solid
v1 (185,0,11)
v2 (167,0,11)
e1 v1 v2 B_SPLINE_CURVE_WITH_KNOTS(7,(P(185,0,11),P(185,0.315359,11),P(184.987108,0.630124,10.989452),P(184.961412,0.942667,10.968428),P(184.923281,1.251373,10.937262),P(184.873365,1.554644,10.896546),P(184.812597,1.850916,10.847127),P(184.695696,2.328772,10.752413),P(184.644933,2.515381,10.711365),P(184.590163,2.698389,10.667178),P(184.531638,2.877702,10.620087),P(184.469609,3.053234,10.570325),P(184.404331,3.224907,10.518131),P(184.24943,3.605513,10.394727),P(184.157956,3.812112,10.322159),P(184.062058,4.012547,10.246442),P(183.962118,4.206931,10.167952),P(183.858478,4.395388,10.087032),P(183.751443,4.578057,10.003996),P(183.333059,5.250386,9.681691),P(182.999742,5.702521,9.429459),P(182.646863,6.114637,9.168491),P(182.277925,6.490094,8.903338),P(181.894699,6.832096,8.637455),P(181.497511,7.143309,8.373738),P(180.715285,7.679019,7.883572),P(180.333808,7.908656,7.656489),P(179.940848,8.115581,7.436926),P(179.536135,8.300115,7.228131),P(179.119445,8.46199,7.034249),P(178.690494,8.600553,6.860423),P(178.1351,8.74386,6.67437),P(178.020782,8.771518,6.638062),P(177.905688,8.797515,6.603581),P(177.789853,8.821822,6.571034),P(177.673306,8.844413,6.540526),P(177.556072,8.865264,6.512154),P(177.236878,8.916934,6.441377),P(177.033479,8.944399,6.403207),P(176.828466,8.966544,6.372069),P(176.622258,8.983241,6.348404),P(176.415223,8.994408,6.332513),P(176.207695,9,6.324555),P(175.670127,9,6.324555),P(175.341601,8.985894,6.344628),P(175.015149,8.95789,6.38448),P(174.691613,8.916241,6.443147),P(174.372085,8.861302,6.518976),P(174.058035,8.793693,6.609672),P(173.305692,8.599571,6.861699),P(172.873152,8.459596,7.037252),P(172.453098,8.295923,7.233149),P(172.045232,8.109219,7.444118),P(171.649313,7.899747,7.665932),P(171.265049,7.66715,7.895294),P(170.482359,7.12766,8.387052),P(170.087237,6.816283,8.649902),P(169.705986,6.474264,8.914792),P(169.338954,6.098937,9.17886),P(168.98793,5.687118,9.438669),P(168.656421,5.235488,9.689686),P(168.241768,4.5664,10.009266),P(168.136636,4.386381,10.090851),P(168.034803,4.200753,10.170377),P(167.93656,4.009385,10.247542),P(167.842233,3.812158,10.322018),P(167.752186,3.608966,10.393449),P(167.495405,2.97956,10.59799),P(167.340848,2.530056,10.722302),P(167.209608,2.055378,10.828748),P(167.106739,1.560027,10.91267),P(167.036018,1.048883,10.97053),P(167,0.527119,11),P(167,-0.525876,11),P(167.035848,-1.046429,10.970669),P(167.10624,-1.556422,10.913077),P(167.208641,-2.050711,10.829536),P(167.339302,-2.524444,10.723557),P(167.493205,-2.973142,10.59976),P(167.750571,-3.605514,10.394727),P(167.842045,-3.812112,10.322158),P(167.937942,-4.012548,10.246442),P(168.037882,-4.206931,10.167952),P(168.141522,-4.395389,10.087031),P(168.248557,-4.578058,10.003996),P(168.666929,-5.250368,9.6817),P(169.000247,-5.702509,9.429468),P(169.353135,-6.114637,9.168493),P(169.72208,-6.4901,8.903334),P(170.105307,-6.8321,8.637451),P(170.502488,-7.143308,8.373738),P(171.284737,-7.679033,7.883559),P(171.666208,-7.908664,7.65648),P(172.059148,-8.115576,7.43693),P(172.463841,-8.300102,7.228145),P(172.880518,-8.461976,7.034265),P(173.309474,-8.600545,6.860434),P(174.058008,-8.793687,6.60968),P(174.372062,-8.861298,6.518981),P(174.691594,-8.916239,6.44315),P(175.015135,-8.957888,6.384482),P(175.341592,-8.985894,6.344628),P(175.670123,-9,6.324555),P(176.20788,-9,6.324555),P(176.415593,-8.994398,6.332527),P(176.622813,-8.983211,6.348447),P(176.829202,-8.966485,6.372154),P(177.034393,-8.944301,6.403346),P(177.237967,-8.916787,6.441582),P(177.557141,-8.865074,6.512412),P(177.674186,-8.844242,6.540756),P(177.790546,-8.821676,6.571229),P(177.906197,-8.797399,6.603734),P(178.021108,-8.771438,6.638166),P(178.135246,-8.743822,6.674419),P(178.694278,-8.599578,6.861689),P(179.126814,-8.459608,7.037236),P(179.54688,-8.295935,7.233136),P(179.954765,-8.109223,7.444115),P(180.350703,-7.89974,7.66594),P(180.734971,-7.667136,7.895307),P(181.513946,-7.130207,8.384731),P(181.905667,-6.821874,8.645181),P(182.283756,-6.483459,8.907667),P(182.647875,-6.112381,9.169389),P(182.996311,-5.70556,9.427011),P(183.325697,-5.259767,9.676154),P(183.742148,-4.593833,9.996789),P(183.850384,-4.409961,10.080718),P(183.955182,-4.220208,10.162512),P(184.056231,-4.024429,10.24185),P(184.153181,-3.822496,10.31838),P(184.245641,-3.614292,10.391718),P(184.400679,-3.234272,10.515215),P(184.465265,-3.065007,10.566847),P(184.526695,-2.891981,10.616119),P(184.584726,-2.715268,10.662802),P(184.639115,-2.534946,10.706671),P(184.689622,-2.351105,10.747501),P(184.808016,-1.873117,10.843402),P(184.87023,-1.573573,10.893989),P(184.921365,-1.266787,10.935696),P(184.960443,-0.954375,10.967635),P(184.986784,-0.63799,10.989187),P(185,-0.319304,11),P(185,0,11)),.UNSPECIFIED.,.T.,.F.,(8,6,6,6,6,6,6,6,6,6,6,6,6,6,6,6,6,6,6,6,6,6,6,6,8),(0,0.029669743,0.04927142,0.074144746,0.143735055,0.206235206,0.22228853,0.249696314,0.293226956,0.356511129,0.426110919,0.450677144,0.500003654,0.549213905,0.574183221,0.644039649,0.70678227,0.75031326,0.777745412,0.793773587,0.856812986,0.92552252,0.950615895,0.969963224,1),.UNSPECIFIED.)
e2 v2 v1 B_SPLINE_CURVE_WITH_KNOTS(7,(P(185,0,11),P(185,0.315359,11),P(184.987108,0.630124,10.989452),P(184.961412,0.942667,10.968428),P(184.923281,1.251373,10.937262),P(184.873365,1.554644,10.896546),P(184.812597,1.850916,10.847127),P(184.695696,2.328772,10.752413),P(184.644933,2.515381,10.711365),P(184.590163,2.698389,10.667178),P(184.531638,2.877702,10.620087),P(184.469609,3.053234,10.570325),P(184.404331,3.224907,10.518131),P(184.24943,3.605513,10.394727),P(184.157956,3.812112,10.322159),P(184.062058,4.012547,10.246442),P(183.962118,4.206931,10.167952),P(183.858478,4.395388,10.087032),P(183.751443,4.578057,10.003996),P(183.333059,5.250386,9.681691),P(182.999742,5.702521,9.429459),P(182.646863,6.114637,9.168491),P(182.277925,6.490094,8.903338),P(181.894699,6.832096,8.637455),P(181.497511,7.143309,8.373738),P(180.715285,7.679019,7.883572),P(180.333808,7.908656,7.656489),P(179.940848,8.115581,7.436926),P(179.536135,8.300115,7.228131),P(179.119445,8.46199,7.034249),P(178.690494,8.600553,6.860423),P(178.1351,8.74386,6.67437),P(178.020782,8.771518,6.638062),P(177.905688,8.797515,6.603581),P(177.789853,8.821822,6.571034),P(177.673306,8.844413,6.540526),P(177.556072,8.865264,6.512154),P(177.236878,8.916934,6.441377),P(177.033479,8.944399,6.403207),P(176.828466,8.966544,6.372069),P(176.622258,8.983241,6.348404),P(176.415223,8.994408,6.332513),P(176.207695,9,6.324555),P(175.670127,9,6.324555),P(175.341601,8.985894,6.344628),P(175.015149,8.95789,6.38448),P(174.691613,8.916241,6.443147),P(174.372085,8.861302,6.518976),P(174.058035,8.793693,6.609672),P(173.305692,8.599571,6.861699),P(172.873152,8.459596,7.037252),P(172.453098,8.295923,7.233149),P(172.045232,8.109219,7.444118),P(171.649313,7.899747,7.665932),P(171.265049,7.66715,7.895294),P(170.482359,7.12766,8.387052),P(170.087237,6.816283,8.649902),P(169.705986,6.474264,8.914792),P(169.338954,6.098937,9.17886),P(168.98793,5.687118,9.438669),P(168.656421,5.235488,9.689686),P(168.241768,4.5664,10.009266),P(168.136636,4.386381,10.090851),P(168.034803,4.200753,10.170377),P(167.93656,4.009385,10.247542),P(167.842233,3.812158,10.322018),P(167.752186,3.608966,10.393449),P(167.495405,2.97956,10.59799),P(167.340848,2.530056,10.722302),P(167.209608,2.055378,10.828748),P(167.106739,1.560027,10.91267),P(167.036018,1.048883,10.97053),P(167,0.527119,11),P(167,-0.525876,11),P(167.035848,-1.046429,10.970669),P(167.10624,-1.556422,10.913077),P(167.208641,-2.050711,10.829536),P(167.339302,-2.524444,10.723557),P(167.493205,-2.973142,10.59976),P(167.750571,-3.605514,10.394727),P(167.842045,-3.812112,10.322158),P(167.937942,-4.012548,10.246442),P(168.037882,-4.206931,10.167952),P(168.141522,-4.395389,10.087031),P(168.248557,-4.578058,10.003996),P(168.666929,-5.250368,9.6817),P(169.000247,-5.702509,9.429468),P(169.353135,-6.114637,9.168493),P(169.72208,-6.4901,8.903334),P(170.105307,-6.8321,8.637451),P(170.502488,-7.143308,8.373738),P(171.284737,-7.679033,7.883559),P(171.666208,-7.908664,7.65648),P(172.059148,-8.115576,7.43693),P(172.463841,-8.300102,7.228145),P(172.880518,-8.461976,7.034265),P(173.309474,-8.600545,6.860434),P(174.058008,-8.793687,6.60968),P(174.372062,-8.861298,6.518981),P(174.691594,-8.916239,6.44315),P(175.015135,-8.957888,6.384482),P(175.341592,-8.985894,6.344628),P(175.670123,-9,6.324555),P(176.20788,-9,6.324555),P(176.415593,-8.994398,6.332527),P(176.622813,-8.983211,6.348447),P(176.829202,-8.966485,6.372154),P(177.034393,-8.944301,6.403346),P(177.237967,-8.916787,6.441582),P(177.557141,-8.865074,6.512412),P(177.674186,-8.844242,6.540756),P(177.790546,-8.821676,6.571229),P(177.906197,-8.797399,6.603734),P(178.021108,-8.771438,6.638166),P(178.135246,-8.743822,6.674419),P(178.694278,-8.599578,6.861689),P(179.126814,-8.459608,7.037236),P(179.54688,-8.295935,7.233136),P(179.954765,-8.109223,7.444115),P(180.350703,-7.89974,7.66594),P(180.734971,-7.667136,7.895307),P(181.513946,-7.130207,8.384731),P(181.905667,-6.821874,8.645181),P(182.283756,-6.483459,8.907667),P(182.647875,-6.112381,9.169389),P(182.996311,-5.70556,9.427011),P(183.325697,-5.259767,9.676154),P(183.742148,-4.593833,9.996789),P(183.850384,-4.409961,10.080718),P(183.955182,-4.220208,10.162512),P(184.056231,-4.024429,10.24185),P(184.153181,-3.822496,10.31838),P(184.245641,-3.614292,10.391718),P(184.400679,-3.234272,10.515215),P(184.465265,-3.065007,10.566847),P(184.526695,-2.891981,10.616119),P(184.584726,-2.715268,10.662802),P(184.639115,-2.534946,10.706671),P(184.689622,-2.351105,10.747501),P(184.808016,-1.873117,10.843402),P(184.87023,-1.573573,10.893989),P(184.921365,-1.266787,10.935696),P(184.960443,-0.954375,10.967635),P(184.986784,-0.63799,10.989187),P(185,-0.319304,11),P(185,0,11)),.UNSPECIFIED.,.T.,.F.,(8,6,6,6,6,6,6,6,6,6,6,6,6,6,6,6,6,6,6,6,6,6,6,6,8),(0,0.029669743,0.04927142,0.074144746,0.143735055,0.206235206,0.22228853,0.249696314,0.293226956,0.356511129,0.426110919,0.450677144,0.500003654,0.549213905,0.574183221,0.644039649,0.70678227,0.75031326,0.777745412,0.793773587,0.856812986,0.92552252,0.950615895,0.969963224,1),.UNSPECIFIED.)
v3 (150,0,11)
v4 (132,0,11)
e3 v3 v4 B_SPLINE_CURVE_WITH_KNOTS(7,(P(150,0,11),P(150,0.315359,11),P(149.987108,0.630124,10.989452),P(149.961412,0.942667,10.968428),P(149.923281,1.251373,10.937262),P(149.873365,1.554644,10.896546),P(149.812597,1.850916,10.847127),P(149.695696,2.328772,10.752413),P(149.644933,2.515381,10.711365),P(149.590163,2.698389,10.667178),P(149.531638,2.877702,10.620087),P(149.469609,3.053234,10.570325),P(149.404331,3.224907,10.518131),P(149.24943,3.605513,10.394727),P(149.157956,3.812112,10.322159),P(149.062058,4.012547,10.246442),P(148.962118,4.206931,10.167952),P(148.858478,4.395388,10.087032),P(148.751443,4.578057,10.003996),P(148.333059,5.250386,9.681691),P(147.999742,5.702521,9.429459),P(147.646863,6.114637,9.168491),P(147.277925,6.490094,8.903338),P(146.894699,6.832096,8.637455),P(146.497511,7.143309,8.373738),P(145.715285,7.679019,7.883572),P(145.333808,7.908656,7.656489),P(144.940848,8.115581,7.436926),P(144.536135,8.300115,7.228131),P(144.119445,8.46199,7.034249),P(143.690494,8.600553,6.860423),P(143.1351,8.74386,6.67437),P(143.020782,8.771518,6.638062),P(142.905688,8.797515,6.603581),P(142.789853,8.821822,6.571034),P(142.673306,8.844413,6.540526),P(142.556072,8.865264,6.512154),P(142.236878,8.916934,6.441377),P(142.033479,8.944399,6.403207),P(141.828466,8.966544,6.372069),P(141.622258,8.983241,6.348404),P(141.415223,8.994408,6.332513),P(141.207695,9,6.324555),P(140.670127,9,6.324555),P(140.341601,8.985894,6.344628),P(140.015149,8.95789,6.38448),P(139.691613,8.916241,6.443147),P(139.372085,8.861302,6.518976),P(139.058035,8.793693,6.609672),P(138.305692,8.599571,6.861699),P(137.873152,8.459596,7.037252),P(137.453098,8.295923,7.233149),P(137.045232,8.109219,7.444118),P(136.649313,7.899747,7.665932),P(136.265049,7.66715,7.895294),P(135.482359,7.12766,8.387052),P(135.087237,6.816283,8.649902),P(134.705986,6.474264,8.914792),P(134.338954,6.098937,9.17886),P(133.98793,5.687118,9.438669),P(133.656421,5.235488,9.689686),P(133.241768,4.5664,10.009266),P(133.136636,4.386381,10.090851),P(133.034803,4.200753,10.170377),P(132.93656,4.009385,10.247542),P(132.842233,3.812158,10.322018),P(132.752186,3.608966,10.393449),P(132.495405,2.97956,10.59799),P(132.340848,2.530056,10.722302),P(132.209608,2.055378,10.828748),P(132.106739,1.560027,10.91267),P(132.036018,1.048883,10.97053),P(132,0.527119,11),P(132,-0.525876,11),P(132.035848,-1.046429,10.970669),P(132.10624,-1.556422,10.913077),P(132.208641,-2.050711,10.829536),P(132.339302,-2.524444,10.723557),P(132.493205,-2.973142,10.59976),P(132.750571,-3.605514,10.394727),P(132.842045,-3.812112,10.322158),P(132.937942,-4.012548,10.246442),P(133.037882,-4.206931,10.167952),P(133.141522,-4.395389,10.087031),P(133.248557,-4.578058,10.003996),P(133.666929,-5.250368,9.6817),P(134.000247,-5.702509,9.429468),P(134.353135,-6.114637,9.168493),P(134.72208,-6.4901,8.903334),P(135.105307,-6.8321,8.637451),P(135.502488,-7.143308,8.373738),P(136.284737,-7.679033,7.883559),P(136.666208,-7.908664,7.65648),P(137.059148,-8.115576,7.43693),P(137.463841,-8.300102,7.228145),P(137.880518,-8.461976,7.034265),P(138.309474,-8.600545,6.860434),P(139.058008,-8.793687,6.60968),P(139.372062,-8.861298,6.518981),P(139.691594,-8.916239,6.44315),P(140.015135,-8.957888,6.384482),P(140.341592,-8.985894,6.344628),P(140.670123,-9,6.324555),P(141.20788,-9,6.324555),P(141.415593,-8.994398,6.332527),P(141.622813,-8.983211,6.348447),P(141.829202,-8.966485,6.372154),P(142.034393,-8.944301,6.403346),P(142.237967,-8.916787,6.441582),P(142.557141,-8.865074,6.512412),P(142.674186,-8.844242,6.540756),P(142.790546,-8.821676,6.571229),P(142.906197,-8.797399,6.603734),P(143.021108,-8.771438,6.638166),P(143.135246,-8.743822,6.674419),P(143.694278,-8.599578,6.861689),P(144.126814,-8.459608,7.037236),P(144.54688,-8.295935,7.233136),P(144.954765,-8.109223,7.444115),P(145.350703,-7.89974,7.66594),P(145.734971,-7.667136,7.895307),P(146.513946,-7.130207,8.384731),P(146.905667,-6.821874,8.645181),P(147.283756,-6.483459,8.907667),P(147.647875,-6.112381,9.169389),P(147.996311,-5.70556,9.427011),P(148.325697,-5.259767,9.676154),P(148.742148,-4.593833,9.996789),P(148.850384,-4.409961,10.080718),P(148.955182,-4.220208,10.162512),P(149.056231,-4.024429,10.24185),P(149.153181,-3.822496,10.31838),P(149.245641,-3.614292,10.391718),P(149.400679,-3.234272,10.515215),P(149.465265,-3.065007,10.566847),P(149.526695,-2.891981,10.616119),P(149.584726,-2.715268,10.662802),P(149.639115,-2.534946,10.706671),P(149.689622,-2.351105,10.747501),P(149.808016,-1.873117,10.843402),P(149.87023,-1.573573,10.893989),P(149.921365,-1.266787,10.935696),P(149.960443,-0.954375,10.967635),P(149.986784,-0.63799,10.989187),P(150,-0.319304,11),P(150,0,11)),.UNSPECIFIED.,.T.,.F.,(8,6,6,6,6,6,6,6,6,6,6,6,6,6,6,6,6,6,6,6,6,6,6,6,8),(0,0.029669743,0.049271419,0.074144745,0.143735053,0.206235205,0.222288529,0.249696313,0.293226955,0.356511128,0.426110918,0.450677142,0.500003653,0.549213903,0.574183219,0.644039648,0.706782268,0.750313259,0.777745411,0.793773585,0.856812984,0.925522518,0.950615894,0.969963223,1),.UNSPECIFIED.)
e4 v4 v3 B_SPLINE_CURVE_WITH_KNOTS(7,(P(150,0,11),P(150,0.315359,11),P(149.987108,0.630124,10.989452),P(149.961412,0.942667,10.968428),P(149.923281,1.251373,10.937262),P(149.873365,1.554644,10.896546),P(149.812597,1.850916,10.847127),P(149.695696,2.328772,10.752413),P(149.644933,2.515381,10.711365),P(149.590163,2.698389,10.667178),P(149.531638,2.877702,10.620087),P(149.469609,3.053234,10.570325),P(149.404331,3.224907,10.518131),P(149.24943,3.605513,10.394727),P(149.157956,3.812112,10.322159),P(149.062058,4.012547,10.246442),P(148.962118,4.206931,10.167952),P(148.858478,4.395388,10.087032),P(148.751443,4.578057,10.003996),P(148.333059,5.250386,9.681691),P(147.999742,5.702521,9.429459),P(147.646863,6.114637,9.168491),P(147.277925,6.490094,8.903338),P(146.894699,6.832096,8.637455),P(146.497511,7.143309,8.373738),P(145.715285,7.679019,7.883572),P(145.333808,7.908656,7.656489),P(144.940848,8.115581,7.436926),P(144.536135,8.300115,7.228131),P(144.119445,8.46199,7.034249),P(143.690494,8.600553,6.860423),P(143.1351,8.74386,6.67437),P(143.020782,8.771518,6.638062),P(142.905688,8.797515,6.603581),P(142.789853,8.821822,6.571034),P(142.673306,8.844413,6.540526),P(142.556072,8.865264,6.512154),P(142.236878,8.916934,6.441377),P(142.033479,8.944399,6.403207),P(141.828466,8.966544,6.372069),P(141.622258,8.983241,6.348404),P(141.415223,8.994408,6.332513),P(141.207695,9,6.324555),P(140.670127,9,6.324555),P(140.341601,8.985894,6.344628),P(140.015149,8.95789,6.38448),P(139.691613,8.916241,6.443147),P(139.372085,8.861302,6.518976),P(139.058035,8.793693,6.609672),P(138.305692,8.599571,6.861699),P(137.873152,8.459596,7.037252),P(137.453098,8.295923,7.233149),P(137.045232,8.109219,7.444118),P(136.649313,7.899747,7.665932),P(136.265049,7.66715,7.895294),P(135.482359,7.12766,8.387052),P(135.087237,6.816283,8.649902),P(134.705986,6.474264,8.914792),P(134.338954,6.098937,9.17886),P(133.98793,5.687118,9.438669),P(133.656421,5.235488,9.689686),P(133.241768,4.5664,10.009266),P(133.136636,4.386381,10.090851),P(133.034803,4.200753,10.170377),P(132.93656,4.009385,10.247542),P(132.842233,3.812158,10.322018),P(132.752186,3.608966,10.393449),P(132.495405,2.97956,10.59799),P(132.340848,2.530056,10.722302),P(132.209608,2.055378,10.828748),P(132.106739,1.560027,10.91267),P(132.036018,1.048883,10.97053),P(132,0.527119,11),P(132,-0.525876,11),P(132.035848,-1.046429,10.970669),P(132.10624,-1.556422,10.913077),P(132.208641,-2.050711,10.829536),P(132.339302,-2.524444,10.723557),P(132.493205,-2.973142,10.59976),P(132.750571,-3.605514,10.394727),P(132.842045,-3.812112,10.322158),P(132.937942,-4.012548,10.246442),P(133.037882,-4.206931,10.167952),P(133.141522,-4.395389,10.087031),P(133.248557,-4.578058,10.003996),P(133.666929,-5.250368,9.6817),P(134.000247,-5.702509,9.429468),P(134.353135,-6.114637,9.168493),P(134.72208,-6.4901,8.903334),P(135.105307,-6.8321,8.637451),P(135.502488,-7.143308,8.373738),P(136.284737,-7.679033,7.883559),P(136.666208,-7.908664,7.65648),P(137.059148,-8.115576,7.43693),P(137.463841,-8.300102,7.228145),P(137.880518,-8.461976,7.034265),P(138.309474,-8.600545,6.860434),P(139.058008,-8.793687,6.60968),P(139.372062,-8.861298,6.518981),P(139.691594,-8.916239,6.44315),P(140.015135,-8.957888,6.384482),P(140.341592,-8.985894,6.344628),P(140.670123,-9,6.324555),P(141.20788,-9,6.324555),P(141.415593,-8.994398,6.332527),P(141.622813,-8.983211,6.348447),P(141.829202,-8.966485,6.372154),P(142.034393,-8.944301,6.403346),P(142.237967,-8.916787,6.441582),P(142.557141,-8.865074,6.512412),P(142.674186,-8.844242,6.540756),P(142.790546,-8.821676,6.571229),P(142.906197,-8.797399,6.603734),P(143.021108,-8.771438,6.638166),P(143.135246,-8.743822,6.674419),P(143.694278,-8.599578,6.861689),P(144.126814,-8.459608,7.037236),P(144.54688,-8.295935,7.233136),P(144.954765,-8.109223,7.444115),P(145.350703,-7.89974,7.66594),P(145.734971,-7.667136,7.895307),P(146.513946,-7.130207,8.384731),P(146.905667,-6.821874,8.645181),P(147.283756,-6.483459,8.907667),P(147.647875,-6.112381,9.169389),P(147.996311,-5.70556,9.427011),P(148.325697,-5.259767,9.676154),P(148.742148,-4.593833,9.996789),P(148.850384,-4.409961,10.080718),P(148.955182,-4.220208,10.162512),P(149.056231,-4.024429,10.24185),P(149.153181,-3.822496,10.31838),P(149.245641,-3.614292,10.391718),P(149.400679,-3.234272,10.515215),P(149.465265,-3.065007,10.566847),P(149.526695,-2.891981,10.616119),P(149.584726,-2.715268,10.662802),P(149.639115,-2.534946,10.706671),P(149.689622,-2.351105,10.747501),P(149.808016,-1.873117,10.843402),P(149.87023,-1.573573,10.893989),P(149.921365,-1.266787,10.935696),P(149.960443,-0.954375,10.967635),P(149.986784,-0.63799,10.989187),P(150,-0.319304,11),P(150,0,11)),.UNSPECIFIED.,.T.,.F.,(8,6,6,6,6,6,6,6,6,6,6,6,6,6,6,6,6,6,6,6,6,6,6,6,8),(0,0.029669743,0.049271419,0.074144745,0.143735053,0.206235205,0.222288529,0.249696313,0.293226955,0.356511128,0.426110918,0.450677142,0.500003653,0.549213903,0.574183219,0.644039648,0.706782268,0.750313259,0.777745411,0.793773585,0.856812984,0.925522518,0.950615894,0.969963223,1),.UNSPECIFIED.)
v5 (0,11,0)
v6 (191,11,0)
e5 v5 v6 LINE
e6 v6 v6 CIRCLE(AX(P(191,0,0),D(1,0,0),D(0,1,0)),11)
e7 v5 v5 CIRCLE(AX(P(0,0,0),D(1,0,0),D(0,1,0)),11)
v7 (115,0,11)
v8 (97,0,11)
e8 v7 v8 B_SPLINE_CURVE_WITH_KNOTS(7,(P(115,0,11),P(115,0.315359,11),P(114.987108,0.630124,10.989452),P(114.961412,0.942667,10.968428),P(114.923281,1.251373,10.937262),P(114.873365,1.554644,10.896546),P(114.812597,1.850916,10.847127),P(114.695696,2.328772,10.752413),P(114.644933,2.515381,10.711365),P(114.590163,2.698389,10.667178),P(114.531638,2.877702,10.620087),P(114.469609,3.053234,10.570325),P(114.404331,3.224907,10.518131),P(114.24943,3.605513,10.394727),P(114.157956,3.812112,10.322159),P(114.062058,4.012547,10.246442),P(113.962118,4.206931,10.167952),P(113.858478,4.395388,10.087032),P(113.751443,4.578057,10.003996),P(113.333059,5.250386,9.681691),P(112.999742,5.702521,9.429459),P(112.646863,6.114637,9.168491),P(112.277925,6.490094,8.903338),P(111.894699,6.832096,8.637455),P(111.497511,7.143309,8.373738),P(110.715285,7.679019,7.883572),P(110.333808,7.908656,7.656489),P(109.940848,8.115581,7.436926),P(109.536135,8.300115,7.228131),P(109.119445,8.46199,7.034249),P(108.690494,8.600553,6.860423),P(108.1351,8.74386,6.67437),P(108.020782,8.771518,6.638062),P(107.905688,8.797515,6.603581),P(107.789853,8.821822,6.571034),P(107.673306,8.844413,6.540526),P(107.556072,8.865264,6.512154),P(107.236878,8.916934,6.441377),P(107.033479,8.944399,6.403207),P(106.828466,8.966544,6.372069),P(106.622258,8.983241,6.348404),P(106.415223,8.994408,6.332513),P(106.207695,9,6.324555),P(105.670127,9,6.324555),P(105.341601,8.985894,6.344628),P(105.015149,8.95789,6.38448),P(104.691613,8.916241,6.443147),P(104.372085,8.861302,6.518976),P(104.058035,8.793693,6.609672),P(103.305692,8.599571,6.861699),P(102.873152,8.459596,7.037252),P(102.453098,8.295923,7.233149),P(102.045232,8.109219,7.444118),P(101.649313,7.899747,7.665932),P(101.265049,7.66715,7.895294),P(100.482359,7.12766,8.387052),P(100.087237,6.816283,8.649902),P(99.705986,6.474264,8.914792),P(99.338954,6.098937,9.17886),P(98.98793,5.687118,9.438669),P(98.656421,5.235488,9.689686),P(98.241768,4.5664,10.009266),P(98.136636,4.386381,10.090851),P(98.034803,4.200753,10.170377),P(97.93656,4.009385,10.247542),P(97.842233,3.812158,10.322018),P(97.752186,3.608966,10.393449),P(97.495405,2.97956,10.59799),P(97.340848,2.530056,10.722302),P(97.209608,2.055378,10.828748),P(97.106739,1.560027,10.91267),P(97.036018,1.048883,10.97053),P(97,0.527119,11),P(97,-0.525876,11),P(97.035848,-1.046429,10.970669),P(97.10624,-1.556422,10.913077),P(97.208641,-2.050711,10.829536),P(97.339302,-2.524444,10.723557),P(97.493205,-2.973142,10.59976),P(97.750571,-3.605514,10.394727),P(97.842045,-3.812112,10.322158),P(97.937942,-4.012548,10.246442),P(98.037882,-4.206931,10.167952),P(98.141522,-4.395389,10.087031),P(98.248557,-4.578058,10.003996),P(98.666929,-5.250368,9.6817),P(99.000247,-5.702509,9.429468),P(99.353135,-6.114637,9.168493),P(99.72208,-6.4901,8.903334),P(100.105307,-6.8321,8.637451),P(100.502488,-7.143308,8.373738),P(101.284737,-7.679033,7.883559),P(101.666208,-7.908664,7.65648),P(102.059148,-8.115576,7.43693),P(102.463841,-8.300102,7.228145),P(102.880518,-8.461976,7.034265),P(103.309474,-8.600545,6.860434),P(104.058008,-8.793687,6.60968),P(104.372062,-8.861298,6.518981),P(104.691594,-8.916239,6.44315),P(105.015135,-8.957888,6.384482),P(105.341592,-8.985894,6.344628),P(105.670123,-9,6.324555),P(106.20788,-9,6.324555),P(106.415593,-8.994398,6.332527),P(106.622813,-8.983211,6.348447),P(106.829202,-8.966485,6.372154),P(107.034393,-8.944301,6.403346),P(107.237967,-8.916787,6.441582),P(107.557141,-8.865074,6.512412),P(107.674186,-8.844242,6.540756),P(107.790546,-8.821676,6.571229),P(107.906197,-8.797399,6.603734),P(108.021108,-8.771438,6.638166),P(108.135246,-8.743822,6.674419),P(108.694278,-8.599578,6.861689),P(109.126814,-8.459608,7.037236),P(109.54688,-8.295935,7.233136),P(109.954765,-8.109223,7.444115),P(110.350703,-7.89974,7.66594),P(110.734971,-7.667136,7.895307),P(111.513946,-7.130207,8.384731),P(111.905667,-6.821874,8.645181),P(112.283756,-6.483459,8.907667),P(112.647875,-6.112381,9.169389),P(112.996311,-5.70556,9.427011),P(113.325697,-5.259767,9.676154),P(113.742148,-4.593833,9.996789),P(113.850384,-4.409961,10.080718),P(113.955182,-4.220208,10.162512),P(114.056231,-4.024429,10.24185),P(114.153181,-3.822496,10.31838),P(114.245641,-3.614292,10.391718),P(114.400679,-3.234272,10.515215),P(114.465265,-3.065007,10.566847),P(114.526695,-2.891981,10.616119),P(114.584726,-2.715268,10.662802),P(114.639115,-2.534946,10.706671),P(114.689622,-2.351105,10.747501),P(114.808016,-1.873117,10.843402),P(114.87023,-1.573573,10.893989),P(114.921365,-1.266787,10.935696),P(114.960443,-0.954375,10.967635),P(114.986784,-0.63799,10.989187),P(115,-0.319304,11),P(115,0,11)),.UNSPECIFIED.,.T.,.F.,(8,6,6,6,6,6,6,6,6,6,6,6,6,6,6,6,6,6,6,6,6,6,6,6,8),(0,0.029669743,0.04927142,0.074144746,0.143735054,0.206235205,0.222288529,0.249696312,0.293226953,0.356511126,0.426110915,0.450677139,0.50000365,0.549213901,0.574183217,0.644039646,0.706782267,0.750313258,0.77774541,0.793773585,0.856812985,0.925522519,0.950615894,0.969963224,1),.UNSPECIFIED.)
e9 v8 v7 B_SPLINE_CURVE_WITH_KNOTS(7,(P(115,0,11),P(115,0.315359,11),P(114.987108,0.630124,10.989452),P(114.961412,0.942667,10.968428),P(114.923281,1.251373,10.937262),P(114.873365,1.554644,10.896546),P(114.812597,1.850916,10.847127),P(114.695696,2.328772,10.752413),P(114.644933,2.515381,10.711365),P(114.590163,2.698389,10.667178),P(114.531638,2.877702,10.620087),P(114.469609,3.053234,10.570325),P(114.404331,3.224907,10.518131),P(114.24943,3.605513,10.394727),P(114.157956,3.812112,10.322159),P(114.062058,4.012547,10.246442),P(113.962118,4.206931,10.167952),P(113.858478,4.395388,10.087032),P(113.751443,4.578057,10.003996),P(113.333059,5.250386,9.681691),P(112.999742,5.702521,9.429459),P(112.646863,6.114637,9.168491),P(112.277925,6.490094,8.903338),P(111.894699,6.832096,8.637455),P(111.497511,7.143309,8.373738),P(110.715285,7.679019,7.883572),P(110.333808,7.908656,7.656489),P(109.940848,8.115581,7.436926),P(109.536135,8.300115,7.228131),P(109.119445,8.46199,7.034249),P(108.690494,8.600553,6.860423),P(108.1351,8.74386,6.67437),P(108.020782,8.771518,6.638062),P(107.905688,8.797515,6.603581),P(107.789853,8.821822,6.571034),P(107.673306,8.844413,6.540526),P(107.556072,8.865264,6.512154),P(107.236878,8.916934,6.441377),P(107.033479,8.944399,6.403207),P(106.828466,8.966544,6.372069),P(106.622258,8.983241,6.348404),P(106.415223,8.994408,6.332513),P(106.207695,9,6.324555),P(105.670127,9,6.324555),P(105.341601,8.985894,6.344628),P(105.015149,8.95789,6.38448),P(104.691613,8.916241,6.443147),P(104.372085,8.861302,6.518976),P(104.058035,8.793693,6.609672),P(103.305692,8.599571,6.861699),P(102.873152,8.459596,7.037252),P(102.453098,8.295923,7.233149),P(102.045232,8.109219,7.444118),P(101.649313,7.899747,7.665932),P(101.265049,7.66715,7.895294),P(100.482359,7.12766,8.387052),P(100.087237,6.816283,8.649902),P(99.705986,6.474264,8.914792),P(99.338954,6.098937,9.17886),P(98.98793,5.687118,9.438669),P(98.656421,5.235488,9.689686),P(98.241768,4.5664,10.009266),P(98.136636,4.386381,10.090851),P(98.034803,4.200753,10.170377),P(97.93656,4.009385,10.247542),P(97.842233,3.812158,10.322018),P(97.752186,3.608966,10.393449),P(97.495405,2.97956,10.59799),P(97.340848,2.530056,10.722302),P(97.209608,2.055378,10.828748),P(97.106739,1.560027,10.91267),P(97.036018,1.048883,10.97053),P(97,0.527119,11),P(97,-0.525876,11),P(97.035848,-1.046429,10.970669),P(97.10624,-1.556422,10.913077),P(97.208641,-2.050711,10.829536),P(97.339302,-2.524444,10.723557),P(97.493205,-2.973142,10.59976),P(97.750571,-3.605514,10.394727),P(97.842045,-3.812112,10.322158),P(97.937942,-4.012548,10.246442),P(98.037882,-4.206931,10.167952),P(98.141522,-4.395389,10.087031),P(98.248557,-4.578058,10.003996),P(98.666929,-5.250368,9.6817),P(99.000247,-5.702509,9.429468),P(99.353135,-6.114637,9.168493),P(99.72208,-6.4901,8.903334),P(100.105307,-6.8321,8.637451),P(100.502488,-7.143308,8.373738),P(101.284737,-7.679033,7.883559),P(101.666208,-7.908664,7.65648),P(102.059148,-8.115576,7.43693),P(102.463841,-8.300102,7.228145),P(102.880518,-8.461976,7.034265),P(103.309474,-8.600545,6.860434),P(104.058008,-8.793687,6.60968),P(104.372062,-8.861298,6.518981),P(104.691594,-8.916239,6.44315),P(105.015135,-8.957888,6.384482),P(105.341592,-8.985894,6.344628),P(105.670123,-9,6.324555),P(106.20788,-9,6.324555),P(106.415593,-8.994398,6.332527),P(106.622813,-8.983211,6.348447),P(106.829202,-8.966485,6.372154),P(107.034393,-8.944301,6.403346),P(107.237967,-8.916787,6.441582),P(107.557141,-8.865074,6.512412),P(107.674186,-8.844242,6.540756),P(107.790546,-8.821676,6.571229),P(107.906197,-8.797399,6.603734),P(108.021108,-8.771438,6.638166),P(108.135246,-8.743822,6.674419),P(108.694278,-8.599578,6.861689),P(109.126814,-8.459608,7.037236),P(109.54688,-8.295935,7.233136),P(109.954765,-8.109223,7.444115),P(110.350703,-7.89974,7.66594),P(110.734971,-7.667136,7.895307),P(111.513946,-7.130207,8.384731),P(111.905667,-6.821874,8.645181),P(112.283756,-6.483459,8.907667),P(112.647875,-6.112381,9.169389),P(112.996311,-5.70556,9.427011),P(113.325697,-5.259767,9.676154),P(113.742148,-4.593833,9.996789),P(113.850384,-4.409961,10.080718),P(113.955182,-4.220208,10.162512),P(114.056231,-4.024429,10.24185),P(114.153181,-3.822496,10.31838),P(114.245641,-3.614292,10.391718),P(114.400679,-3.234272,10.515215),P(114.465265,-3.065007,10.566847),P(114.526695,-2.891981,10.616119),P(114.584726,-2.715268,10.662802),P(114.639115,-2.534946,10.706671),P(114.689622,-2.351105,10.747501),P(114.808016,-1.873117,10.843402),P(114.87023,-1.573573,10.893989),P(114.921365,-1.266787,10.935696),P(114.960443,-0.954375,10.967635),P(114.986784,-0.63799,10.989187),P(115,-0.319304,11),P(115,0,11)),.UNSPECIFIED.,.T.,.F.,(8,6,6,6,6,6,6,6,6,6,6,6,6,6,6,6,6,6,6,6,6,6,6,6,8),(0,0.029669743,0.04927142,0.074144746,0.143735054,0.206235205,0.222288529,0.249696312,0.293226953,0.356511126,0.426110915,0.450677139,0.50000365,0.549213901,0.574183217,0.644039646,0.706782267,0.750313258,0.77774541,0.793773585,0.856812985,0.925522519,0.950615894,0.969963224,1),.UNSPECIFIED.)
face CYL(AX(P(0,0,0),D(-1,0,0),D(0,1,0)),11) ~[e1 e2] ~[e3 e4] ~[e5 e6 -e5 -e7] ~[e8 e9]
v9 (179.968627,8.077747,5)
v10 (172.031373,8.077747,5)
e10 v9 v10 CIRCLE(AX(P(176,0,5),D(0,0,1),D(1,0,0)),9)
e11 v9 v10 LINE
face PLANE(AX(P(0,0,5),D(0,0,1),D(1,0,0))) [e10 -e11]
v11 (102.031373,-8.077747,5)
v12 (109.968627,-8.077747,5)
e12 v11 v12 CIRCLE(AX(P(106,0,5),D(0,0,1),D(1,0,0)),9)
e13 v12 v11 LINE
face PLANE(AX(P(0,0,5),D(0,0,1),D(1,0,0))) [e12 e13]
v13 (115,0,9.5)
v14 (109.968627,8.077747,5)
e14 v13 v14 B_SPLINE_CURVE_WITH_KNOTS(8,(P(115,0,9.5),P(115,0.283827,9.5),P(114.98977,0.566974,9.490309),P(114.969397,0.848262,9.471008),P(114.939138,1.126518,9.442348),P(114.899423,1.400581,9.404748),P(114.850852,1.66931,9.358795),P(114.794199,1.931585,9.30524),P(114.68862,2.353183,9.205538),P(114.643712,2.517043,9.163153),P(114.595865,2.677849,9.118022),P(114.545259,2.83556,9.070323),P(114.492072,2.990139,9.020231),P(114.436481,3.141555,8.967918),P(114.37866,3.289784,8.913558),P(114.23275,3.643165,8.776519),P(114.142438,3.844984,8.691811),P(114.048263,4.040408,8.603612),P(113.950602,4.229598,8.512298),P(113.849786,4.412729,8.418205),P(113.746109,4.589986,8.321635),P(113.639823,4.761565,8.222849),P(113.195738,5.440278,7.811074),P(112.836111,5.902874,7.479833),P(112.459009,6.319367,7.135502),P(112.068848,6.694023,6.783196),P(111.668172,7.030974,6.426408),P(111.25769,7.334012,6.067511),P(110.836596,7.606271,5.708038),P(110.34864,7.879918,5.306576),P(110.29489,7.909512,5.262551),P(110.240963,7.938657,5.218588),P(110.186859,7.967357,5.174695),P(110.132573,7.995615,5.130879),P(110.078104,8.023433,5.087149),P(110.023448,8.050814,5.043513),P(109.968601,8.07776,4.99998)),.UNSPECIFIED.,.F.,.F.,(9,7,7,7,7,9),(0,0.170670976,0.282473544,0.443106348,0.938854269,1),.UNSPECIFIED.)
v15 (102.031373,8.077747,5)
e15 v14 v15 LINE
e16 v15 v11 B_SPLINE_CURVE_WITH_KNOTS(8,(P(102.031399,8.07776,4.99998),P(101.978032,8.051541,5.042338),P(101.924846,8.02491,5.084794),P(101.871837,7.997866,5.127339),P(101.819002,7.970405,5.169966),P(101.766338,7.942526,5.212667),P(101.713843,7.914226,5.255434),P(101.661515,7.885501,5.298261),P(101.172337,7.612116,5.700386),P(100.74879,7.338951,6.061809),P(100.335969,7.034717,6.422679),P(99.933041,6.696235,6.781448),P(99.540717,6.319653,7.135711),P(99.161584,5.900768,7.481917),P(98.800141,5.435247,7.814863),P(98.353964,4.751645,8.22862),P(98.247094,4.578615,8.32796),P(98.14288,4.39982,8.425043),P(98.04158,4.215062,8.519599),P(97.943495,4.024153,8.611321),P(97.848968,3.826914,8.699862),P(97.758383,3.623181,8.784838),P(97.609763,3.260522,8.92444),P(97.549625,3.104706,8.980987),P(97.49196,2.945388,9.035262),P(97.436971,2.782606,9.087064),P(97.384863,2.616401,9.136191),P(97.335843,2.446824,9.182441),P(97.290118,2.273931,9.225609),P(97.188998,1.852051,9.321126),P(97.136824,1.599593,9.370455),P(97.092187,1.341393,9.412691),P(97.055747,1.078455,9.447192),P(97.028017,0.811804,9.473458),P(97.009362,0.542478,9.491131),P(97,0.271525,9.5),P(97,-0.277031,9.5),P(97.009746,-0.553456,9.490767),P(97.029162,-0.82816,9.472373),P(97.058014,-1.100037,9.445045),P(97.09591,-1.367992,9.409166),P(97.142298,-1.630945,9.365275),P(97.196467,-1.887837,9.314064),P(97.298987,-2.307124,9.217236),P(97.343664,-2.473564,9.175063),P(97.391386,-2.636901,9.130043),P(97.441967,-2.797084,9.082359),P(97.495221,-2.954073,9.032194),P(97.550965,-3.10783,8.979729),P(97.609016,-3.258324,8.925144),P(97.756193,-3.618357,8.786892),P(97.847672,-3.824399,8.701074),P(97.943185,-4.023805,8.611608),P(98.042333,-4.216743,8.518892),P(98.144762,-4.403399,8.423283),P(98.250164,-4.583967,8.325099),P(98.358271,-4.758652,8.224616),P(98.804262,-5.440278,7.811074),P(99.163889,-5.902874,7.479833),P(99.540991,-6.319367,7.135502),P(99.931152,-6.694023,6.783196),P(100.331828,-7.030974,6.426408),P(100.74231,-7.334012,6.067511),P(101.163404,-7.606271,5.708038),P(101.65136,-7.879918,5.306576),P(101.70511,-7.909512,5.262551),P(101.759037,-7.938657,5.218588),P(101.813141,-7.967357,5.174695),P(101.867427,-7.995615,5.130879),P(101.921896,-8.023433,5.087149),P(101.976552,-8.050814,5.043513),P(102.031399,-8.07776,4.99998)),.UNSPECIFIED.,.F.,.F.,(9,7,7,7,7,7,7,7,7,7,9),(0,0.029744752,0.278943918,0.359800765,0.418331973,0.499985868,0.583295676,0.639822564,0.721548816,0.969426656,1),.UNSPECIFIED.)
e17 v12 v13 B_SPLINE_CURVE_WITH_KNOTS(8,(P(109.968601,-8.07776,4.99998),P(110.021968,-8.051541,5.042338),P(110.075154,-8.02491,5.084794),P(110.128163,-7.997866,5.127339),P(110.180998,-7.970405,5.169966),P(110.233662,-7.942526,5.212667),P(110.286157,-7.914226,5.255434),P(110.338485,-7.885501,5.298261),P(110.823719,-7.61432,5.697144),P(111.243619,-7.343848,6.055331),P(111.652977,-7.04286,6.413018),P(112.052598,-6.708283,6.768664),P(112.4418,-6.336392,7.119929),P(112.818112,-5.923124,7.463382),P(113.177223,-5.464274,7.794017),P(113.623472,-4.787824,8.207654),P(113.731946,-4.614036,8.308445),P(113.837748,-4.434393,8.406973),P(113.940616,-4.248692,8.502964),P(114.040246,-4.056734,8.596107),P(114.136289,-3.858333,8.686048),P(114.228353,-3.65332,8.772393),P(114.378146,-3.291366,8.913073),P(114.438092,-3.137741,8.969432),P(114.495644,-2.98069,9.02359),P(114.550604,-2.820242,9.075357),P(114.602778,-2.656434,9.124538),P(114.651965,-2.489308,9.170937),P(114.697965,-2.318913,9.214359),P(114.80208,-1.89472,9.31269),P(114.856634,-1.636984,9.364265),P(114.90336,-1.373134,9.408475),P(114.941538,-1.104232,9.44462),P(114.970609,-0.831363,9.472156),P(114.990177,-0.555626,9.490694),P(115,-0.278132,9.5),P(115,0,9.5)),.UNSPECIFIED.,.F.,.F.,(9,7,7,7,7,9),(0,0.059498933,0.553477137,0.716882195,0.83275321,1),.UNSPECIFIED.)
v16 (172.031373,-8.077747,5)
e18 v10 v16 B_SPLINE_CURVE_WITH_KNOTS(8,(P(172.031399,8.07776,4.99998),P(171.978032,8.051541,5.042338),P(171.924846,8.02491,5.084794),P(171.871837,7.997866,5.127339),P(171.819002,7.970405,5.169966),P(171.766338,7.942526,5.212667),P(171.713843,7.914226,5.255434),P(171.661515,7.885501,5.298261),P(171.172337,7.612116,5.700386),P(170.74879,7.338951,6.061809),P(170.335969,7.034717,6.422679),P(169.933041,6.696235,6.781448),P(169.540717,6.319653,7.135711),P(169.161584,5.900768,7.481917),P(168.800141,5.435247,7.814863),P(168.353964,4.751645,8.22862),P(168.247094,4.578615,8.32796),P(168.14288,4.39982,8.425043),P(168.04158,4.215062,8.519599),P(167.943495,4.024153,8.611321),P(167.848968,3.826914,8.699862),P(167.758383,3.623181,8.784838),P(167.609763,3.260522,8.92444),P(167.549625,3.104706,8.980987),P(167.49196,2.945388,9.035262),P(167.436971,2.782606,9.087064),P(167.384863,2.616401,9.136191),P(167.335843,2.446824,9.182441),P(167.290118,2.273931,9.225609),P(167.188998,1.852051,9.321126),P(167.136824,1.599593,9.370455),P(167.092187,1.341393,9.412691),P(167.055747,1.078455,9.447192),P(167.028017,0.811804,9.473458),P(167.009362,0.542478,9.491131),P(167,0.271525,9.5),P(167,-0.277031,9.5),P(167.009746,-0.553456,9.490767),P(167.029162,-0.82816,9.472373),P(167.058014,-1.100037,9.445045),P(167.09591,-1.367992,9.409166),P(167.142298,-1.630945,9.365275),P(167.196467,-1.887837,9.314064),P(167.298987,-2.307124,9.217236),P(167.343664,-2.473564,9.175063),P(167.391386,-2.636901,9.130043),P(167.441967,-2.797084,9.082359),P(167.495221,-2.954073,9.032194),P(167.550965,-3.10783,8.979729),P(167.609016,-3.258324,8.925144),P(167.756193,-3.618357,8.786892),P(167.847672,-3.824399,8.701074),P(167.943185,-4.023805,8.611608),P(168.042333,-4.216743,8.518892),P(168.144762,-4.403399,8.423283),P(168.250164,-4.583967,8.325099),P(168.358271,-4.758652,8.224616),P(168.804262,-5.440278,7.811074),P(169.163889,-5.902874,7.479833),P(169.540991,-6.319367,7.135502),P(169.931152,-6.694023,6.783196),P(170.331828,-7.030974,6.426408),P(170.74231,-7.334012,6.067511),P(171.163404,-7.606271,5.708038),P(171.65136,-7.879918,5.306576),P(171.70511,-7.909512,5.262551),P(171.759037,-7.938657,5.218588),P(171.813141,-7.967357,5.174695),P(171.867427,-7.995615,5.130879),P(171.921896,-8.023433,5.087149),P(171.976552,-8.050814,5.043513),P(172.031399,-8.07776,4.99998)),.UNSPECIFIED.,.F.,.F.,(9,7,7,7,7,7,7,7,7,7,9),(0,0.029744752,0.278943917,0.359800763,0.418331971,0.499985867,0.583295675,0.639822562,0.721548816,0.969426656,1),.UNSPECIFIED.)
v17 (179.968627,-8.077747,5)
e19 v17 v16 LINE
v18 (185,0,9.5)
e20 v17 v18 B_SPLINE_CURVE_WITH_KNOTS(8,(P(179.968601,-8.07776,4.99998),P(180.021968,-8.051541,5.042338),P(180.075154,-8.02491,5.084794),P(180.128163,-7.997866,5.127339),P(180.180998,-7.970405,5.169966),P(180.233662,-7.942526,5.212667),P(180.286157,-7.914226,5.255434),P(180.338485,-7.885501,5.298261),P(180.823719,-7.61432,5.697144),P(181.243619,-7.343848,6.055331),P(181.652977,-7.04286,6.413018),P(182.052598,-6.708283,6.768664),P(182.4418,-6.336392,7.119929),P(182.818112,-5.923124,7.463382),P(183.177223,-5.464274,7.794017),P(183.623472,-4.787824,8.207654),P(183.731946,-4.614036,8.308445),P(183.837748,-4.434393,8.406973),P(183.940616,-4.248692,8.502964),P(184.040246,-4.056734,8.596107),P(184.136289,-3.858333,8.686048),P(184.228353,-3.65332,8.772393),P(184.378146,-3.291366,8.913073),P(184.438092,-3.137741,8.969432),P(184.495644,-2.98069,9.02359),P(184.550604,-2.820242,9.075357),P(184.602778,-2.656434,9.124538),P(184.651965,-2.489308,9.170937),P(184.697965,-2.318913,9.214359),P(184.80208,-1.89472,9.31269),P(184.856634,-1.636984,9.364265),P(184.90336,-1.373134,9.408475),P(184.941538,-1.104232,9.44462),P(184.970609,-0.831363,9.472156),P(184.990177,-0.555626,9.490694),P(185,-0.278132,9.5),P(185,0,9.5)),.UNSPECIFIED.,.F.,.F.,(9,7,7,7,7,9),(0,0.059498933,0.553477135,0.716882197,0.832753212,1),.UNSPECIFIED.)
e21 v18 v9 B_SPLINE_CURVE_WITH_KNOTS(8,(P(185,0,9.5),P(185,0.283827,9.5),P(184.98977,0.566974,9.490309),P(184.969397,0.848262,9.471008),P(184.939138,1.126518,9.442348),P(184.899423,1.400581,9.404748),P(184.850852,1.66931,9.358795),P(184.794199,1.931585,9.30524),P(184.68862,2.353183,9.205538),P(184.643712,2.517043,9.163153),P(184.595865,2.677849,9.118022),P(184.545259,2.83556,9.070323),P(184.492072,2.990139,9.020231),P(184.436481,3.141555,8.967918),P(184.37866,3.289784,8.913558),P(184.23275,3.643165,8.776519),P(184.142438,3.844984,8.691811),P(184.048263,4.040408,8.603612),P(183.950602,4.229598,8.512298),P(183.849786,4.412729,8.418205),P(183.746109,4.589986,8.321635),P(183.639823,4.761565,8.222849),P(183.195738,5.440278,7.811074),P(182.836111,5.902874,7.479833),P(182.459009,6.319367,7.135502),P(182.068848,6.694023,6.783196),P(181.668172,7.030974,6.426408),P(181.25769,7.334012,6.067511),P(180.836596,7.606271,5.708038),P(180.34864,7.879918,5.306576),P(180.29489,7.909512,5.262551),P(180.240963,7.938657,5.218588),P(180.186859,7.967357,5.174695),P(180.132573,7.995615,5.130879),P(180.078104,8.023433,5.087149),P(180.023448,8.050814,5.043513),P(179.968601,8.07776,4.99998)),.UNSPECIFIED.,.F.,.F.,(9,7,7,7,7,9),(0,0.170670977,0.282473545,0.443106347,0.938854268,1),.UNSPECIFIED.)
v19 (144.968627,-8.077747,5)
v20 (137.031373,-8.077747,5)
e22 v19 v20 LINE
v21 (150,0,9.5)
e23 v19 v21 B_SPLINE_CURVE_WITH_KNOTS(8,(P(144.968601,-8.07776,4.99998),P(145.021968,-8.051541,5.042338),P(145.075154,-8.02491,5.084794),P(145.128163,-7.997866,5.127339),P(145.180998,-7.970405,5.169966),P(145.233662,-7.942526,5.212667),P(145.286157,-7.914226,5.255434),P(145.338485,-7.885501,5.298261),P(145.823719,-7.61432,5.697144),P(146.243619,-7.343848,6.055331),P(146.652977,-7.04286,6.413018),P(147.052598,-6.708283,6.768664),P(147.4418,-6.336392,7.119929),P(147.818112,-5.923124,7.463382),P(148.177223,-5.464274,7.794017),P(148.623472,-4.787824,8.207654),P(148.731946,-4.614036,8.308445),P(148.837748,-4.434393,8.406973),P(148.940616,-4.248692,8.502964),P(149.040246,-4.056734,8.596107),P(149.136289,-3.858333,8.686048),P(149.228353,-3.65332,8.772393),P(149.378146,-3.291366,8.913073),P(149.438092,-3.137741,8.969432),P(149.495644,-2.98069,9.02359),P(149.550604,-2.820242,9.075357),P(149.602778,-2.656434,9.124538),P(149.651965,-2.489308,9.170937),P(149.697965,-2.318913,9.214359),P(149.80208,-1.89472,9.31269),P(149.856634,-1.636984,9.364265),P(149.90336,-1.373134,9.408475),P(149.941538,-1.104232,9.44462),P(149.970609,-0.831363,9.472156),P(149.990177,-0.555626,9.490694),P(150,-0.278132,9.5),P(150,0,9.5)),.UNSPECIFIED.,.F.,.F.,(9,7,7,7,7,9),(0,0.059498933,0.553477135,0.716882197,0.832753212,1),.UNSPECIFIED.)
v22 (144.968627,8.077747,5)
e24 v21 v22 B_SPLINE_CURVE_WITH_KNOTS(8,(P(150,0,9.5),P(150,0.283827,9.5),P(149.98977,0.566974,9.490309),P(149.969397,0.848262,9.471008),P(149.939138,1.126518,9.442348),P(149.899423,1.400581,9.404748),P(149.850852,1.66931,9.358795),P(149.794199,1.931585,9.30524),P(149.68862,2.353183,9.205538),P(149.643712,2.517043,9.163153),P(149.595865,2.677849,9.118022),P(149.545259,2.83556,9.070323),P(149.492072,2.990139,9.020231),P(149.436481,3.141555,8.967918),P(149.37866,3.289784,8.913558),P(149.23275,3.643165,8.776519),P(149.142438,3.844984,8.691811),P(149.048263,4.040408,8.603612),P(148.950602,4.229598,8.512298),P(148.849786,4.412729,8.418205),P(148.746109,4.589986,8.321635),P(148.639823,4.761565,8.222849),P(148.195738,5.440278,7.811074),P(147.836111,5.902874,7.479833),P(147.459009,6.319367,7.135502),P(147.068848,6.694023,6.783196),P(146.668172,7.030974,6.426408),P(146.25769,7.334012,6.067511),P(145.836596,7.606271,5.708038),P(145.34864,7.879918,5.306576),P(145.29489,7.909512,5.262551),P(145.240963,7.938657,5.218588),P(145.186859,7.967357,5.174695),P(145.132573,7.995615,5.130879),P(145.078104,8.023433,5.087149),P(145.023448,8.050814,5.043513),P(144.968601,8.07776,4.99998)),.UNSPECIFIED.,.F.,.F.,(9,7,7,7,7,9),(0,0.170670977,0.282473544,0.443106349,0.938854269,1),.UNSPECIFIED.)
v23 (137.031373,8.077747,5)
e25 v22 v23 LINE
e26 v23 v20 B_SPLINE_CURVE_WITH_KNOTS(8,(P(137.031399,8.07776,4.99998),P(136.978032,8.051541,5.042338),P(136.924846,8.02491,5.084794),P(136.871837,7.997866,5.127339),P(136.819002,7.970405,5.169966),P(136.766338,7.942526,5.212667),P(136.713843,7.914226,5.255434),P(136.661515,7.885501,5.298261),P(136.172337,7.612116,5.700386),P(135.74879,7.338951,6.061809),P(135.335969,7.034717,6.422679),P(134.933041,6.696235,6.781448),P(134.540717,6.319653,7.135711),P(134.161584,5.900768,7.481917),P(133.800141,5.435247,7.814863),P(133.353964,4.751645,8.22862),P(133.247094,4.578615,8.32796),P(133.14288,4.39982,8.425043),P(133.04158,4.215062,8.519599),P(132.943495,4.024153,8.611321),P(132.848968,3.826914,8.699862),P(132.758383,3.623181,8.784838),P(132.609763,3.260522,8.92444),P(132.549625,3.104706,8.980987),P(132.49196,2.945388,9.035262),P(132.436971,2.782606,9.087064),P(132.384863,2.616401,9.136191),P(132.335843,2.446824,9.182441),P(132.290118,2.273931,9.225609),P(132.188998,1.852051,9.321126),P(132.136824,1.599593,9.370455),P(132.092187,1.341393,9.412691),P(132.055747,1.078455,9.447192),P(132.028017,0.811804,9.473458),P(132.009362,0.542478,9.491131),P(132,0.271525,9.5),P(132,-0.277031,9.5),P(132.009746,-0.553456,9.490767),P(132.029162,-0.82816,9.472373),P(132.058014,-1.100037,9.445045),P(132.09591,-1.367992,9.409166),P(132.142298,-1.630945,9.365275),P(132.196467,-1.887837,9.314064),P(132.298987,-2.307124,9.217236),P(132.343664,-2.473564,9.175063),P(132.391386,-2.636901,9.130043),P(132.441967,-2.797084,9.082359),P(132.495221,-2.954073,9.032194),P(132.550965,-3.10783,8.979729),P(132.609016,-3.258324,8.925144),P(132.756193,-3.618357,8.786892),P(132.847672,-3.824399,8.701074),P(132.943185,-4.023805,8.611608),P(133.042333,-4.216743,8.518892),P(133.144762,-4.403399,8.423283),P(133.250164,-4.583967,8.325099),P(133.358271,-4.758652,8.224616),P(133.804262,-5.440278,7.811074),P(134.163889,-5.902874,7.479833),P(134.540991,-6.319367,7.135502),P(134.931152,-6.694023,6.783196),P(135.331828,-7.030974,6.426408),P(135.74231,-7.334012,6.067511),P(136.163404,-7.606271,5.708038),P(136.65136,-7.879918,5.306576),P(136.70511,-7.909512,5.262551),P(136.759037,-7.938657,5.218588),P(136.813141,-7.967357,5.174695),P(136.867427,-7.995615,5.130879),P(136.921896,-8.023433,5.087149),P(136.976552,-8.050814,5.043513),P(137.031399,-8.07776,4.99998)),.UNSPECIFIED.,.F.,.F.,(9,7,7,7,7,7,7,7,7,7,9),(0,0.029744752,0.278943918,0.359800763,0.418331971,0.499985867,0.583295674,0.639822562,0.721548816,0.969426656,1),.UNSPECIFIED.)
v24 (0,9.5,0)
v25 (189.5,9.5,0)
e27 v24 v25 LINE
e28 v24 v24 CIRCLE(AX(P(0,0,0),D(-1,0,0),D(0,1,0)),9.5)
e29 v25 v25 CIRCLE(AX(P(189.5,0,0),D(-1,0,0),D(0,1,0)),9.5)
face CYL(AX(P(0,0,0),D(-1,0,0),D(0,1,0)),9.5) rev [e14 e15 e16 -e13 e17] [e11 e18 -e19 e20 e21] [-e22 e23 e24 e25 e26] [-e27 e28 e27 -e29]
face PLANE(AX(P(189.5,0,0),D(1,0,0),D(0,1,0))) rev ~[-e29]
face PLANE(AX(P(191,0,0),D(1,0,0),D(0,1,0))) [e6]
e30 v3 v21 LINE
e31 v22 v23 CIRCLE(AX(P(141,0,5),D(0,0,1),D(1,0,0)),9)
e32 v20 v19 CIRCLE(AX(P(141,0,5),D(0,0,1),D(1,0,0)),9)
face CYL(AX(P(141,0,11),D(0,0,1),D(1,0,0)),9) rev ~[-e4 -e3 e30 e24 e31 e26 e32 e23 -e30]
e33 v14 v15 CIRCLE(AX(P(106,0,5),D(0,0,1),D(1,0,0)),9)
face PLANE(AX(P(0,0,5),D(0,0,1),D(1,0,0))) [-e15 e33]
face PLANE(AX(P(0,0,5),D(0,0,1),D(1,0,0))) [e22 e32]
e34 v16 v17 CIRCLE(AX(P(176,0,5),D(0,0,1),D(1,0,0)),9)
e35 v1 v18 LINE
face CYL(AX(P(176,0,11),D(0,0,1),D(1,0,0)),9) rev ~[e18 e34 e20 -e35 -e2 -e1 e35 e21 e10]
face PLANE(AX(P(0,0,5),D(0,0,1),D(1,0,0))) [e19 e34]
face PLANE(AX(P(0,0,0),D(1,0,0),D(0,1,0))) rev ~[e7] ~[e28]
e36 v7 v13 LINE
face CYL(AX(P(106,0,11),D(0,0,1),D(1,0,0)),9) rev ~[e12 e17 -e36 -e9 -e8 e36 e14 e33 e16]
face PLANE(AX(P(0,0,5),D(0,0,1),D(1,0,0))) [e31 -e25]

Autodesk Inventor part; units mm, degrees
ref_plane "YZ Plane" through (0, 0, 0) normal (1, 0, 0) x (0, 1, 0)
ref_plane "XZ Plane" through (0, 0, 0) normal (0, 1, 0) x (-1, 0, 0)
sketch "Skizze1" plane through (0, 0, 0) normal (1, 0, 0) x (0, 1, 0)
  circle A0 centre (0, 0) radius 11
  dimension "d0" = 22
extrude "Extrusion1" add sketch "Skizze1" along normal blind 191
shell "Wandung1" thickness 1.5 removed faces 1 at (0, -3.2467, -1.704)
ref_plane "Arbeitsebene1" through (0, 0, 11) normal (0, 0, 1) x (1, 0, 0)
sketch "Skizze2" plane through (0, 0, 11) normal (0, 0, 1) x (1, 0, 0)
  circle A0 centre (106, 0) radius 9
  circle A1 centre (141, 0) radius 9
  circle A2 centre (176, 0) radius 9
  line L0 (191, -11) -> (191, 11) projected
  line L1 (0, -11) -> (0, 11) projected
  point P0 (0, 0)
  dimension "d6" = 15
  dimension "d7" = 35
  dimension "d8" = 35
  dimension "d9" = 18
extrude "Extrusion2" cut sketch "Skizze2" against normal blind 6
properties part number "102 part 2" material "Aluminum 6061, geschweißt"
